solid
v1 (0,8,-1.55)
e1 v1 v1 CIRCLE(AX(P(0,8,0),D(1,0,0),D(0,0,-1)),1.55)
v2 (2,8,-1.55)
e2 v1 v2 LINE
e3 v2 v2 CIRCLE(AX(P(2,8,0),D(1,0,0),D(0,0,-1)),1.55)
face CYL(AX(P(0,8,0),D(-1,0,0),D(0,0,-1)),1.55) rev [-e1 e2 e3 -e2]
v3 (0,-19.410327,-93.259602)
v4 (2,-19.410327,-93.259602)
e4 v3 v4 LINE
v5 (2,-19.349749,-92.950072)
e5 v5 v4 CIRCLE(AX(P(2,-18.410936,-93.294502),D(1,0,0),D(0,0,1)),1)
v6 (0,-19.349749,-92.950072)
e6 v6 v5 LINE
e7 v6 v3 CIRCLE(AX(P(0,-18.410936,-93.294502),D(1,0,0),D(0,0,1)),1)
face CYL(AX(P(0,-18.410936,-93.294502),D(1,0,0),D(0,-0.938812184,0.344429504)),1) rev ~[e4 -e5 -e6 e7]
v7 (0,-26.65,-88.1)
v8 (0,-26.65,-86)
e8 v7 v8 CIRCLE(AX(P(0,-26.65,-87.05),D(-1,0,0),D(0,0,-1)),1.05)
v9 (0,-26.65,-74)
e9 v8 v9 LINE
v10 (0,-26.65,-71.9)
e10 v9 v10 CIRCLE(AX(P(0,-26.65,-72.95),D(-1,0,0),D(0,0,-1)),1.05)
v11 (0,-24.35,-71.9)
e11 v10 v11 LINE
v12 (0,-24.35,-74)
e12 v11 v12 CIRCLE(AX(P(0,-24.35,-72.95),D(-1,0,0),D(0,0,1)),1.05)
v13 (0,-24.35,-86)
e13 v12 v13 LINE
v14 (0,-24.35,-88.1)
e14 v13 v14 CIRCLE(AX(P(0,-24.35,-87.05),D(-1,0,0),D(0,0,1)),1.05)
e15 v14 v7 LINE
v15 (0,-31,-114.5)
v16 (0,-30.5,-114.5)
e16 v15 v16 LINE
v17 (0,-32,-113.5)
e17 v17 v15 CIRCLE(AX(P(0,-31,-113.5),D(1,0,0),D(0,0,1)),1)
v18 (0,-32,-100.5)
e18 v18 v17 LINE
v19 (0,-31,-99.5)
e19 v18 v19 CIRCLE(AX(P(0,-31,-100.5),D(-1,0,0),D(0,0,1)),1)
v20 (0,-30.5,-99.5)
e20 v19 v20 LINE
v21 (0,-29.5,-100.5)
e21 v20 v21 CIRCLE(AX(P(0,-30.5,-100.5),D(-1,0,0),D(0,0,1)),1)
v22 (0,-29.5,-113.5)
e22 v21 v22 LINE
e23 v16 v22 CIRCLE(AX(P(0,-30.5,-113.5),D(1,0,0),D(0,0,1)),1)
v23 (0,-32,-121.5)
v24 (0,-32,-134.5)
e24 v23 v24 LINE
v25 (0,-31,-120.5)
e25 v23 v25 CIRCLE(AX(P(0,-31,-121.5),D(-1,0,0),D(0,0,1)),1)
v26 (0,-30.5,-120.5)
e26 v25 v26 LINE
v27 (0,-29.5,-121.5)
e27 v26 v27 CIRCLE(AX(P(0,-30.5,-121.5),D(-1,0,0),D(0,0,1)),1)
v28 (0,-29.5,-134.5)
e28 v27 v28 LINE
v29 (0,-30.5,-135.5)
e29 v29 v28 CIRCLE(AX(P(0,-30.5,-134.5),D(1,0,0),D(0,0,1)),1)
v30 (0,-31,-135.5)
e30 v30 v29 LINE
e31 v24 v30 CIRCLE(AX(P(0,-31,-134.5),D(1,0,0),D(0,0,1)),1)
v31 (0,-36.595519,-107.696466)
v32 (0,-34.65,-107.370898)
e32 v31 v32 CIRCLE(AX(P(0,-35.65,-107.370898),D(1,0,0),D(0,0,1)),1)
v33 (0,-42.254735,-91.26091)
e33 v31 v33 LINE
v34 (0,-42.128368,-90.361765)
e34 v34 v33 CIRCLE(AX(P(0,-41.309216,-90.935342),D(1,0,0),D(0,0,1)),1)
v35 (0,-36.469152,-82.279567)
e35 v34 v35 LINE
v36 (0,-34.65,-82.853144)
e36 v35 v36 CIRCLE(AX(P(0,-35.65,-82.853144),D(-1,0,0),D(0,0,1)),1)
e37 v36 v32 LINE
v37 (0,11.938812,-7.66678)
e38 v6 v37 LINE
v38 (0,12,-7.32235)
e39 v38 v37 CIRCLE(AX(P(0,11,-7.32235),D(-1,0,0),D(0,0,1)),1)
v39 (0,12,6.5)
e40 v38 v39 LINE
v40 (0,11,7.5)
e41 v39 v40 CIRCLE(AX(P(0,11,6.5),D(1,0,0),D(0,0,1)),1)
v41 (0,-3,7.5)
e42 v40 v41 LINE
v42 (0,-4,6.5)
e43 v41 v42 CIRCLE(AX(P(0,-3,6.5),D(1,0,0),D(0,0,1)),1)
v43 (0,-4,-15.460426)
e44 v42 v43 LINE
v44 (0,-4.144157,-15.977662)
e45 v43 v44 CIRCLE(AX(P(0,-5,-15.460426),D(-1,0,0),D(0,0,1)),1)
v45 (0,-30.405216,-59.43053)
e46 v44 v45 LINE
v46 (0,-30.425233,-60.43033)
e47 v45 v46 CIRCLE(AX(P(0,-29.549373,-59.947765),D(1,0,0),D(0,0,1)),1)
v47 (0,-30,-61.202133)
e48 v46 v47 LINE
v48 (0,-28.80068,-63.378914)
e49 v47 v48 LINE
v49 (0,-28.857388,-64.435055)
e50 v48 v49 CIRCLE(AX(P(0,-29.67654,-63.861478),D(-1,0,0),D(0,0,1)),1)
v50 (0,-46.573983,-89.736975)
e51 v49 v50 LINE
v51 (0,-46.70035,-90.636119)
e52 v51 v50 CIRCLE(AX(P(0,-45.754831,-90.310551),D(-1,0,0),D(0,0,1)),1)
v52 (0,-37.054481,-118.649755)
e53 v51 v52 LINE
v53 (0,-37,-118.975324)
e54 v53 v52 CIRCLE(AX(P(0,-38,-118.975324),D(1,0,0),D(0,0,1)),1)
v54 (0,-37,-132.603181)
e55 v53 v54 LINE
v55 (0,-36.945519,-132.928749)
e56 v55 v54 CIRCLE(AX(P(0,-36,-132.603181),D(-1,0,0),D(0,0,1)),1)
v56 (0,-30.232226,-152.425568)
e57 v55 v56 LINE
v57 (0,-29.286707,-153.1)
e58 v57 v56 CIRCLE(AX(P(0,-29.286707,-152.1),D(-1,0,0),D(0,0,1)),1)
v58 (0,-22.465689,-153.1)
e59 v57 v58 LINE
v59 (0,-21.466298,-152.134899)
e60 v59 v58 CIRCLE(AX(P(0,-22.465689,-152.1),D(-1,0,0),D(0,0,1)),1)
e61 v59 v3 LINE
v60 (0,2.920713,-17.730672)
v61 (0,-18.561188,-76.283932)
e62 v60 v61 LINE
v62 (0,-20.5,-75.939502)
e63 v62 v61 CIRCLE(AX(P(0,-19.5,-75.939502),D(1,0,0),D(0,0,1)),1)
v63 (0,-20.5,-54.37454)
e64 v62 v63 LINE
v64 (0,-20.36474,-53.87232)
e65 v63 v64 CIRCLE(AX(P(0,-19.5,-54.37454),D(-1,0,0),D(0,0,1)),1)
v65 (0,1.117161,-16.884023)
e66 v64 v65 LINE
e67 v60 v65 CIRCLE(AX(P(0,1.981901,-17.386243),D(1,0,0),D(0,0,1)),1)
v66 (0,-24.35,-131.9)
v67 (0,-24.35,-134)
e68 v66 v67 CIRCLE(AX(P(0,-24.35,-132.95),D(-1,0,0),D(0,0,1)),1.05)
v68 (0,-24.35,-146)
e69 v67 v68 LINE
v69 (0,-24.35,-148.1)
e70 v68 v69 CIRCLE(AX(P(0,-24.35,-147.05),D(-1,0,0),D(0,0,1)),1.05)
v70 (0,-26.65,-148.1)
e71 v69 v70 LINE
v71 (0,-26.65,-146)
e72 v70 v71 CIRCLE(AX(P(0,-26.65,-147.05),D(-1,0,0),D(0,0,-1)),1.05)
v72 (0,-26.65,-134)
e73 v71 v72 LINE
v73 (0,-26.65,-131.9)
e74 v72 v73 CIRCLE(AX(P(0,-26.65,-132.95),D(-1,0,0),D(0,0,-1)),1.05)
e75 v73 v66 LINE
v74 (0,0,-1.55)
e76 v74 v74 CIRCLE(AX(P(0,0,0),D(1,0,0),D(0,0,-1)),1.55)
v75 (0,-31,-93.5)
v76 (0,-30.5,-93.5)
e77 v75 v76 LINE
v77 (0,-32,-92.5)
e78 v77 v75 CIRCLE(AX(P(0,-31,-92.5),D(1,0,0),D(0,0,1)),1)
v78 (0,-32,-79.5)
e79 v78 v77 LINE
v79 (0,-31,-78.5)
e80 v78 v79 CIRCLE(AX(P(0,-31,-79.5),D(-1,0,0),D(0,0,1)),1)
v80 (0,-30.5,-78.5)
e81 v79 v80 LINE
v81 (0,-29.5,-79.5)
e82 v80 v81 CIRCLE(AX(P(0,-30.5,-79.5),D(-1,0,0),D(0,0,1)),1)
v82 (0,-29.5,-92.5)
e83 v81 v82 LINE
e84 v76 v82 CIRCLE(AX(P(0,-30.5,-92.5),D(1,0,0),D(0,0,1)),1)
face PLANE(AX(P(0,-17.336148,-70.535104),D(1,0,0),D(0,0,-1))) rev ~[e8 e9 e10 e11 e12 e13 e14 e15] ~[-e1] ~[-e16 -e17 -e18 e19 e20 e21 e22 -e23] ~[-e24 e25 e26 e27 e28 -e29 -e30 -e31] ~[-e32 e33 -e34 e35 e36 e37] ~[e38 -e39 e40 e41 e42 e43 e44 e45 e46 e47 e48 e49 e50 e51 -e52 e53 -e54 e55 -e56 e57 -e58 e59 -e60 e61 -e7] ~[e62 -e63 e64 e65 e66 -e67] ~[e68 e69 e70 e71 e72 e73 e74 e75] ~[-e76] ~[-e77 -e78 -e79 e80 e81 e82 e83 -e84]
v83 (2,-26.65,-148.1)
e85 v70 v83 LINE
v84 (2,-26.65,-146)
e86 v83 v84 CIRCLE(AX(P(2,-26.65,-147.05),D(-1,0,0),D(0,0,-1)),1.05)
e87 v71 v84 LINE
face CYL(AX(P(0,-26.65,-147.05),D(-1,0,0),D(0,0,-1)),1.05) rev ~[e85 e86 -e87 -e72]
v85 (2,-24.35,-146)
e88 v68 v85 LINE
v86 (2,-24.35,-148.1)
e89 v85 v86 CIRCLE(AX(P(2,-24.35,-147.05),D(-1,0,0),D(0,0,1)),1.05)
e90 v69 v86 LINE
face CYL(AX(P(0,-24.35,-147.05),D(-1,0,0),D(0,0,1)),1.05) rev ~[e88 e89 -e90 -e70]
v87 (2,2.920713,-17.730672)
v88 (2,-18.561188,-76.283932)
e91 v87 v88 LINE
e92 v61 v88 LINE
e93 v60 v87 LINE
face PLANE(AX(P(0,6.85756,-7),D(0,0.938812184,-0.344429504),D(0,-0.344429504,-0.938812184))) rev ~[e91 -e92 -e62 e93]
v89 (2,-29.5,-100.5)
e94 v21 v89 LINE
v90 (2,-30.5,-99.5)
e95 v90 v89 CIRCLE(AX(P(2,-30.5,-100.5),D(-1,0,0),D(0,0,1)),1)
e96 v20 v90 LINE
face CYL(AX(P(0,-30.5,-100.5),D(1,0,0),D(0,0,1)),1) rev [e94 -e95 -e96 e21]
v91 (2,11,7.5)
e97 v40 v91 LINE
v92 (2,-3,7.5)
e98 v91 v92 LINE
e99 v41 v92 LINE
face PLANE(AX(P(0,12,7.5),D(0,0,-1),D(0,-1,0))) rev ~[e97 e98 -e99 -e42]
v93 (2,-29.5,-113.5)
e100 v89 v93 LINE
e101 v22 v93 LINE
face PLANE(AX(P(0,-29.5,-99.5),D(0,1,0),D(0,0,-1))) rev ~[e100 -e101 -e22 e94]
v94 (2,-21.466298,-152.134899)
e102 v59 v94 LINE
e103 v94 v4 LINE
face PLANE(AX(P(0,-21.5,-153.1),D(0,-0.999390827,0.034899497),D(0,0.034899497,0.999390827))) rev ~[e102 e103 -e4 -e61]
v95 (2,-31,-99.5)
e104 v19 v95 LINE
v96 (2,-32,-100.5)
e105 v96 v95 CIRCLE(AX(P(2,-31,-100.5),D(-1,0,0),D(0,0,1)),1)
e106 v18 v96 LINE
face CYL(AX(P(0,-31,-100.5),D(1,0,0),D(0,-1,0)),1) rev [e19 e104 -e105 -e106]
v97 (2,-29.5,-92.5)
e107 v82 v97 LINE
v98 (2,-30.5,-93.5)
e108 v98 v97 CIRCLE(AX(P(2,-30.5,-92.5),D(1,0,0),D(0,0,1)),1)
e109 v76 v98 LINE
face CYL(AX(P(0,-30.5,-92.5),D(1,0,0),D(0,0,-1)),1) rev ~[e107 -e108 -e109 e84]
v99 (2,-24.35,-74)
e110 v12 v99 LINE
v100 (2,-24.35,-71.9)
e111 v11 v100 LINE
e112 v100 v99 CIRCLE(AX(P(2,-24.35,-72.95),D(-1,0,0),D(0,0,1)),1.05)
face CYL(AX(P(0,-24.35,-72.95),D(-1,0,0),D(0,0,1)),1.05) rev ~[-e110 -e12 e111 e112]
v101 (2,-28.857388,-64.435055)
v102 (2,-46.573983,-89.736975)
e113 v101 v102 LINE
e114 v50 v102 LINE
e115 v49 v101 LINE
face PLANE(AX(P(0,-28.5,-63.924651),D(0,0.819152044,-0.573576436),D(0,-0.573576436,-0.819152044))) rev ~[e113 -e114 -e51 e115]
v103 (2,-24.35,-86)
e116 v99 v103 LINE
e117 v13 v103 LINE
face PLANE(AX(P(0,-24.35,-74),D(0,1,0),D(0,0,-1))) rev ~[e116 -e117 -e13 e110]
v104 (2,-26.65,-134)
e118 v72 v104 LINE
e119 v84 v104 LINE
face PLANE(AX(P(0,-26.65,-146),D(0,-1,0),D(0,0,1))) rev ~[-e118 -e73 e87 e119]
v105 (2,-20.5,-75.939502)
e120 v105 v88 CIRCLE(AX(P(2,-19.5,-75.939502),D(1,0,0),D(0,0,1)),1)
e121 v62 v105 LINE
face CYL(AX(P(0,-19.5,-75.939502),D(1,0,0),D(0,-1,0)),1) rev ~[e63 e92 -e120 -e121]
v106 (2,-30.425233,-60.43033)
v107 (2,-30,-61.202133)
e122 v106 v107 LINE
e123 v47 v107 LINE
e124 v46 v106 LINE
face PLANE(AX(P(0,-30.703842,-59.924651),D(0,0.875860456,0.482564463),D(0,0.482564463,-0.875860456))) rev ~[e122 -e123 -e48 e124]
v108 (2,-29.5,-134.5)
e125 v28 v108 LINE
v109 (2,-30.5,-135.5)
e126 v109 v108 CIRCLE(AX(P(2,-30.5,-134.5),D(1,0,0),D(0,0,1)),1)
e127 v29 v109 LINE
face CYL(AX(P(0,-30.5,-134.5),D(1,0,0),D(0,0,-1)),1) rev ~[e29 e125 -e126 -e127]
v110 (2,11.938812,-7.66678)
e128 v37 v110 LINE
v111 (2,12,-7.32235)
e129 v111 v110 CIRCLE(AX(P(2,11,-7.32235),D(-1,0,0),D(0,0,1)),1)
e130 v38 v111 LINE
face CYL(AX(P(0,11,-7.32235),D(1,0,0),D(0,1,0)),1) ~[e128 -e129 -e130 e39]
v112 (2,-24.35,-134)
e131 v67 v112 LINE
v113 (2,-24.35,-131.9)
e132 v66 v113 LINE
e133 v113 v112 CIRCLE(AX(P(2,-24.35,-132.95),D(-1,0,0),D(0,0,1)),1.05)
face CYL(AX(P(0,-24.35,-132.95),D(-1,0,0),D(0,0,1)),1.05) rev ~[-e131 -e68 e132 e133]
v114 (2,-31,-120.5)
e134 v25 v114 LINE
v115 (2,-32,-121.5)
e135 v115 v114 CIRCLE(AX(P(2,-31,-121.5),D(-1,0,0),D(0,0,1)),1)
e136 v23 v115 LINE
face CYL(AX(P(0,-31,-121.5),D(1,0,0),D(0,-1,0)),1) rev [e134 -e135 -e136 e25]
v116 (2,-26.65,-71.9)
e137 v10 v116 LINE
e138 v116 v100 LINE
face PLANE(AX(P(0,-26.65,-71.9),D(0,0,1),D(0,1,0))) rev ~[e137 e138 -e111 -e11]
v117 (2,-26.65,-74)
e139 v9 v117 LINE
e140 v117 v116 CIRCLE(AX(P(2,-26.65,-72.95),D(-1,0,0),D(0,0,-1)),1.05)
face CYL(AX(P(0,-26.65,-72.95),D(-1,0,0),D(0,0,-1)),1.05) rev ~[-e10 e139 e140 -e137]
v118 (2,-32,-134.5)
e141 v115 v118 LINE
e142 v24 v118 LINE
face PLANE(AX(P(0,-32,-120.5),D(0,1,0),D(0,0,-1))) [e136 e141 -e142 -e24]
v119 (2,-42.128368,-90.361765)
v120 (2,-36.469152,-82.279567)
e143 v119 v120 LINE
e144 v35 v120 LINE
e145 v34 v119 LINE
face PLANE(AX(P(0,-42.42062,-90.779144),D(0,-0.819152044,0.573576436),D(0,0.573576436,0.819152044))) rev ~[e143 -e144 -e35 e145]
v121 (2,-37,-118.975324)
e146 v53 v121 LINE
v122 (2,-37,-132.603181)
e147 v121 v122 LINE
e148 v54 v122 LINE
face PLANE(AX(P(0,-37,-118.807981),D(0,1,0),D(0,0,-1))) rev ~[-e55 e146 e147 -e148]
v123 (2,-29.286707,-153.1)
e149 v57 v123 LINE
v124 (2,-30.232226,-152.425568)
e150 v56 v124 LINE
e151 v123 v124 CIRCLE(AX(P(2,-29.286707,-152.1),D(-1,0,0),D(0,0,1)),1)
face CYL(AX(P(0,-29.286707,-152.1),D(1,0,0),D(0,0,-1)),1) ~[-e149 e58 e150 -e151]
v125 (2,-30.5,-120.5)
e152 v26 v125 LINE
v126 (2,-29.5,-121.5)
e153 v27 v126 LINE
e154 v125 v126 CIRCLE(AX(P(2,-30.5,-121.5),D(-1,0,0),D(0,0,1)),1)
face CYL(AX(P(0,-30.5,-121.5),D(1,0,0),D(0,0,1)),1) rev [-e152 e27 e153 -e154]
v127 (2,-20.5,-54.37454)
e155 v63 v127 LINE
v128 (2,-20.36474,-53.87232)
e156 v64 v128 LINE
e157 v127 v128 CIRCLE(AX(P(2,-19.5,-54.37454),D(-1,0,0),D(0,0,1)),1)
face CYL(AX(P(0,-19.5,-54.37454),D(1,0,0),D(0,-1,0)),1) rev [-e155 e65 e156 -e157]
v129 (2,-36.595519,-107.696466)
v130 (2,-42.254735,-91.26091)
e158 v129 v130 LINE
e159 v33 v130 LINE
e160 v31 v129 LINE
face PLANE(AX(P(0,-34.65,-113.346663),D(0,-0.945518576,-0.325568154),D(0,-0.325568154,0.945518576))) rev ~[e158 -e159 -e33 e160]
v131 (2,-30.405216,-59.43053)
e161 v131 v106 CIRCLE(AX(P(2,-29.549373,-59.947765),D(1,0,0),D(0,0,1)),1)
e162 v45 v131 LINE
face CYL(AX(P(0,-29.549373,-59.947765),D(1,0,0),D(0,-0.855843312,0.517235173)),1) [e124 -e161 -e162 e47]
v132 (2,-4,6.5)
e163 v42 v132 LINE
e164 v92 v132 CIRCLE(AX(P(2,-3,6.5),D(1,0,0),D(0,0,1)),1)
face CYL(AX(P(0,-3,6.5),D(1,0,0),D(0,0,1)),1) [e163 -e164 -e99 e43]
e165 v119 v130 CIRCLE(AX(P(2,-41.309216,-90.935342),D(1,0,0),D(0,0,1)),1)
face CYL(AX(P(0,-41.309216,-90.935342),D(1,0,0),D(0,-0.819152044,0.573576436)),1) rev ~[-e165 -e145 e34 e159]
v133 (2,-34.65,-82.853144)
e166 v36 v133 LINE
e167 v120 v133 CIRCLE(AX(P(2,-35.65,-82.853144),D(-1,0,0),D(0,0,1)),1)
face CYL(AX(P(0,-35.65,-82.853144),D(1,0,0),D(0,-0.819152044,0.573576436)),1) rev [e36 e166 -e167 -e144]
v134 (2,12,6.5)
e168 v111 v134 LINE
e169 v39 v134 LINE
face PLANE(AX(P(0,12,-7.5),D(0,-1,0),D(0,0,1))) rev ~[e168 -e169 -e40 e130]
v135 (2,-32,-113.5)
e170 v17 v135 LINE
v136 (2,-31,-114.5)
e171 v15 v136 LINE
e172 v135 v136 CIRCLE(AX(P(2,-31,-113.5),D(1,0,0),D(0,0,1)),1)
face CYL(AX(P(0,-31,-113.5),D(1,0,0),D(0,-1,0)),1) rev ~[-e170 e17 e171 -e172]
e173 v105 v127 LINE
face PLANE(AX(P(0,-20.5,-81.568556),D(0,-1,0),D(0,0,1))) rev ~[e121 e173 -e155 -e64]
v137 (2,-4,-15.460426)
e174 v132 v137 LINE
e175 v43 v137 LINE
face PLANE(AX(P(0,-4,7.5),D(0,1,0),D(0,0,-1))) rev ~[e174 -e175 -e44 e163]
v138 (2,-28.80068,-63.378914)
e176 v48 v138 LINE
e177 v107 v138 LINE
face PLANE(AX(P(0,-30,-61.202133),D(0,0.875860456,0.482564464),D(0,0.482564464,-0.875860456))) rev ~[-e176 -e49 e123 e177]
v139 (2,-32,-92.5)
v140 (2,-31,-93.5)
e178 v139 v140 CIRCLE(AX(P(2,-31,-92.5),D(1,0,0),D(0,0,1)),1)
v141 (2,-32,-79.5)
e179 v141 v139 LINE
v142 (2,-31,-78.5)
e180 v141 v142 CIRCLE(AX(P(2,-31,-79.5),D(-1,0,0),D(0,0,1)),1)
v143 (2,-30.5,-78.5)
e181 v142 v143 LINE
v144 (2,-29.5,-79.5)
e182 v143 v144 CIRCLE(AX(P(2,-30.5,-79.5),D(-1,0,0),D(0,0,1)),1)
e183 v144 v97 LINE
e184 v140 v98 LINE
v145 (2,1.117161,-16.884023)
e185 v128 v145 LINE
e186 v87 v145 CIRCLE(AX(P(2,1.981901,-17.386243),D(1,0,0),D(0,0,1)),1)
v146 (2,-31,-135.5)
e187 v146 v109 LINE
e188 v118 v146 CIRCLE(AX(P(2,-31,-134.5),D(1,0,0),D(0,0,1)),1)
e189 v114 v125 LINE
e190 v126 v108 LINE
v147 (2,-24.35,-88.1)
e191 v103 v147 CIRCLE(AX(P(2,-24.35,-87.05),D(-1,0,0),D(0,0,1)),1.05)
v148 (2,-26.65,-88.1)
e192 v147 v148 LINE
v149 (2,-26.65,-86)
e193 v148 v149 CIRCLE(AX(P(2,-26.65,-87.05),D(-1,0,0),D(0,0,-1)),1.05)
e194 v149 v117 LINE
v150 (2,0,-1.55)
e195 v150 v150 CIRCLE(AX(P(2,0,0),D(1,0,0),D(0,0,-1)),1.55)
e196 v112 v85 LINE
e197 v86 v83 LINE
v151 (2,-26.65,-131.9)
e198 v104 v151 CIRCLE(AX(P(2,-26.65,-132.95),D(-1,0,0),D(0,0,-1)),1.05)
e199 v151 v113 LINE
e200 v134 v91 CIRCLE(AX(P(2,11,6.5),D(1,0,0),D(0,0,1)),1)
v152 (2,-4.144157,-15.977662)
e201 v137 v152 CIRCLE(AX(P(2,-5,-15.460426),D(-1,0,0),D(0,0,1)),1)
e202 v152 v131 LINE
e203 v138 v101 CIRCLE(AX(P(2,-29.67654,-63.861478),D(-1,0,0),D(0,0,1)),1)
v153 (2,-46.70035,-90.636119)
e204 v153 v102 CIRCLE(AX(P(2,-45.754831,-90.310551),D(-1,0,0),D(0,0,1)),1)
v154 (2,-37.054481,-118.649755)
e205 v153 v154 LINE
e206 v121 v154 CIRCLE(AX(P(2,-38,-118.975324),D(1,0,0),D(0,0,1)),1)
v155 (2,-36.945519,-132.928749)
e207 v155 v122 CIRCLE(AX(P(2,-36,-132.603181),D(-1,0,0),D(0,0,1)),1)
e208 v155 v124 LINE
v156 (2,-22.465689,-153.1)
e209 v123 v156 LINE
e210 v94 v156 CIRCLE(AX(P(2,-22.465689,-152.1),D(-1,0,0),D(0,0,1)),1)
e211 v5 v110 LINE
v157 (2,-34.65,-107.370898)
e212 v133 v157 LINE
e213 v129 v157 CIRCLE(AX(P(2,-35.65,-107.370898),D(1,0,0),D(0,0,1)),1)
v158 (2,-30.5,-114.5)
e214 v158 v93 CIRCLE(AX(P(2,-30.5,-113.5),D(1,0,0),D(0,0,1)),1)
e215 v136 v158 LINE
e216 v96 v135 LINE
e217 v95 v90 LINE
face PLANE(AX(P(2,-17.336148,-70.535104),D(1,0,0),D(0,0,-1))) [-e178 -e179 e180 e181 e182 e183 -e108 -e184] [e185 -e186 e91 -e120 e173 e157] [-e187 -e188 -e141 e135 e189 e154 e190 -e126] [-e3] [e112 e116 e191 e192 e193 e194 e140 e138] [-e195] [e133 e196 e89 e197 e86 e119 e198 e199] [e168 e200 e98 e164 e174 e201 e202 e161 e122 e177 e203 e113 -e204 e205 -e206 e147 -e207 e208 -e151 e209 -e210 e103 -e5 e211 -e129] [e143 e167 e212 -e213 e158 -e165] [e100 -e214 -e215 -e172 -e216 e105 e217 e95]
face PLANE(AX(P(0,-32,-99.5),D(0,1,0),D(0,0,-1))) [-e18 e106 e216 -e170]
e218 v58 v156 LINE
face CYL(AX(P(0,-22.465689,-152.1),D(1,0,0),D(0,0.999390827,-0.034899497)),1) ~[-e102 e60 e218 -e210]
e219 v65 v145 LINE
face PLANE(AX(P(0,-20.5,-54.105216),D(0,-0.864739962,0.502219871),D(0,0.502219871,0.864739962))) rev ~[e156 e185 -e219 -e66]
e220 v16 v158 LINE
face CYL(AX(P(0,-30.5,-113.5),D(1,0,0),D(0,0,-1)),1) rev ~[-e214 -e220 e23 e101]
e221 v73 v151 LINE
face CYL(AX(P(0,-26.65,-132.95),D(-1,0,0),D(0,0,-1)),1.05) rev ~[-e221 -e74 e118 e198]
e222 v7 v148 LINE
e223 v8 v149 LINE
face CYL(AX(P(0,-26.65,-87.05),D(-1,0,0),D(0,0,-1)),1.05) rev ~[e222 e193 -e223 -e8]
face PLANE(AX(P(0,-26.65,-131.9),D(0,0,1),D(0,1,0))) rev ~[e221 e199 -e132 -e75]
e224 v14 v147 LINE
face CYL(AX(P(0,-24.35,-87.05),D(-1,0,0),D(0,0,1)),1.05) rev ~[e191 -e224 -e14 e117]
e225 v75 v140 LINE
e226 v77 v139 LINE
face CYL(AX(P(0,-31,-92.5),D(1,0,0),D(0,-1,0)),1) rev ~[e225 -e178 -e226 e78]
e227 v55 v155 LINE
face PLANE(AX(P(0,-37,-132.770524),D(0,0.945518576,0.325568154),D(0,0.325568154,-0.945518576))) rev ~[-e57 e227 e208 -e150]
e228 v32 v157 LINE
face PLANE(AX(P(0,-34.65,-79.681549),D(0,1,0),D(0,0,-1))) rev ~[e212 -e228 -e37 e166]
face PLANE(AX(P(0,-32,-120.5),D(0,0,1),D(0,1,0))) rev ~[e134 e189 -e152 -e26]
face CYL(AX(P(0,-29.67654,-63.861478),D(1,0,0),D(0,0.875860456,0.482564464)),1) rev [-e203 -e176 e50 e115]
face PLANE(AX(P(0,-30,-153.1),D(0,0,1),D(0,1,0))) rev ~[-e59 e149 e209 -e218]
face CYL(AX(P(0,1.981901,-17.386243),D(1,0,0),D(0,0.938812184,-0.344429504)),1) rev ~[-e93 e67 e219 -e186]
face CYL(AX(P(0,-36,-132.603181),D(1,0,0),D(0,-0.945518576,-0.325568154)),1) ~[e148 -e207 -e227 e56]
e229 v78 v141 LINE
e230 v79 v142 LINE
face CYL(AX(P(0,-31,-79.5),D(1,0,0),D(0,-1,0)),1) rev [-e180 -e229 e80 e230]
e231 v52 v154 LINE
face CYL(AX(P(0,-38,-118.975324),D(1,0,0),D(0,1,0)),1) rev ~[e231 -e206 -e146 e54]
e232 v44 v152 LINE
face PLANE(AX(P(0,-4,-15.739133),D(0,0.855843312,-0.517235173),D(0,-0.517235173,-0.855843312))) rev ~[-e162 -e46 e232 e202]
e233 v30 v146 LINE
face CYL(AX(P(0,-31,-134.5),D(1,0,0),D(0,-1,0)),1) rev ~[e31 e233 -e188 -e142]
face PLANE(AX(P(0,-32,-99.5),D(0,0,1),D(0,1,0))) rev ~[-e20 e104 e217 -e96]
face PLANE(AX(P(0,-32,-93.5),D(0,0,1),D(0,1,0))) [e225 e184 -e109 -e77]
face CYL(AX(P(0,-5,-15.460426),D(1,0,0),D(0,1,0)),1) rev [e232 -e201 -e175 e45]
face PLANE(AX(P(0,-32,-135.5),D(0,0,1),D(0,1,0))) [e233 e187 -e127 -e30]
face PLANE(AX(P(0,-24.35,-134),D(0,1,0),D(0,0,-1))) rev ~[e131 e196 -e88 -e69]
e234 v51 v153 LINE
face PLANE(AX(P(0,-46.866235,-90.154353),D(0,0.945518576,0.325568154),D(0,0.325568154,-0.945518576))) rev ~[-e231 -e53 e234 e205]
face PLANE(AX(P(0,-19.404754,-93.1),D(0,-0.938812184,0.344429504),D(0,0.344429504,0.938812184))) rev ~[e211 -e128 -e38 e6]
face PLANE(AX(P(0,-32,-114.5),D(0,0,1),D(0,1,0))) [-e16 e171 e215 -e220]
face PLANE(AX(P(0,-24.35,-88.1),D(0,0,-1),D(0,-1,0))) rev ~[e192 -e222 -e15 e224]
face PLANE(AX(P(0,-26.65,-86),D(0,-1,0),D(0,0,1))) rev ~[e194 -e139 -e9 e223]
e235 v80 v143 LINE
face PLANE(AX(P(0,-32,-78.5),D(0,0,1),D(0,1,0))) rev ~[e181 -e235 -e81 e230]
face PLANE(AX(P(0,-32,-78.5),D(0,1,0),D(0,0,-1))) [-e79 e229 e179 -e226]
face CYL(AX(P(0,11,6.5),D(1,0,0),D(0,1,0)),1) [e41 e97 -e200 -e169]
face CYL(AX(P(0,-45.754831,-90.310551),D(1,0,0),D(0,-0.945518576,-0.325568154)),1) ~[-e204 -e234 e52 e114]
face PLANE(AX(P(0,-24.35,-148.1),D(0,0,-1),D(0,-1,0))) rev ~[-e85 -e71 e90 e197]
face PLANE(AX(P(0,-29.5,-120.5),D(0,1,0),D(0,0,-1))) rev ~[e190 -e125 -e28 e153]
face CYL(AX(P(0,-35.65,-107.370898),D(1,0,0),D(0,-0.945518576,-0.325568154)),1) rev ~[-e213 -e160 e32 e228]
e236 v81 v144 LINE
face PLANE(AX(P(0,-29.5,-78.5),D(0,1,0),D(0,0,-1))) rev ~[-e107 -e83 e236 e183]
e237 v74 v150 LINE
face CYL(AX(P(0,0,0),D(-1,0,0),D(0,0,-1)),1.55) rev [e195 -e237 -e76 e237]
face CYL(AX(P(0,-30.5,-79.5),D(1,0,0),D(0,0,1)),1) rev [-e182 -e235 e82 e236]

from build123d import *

# Parameters (mm, degrees)
SKETCH_1_W      = 15
SKETCH_1_H      = 2.5
SKETCH_1_R      = 1.55
EXTRUDE_1_DEPTH = 2
FILLET_1_R      = 1


with BuildPart() as part:
    # 草图1 → 凸台-拉伸1 (new body)
    with BuildSketch(Plane(origin=(0, 0, 0), x_dir=(0, 0, -1), z_dir=(1, 0, 0))):
        Polygon((7.5, 12), (-7.5, 12), (-7.5, -4), (15.739132695, -4), (59.924651317, -30.703841765), (61.202132807, -30), (63.924651317, -28.5), (90.154353452, -46.86623516), (118.807980924, -37), (132.770523856, -37), (153.1, -30), (153.1, -21.5), (93.1, -19.40475383), align=None)
        with Locations((128, -30.75)):
            Rectangle(SKETCH_1_W, SKETCH_1_H, mode=Mode.SUBTRACT)
        with Locations((107, -30.75)):
            Rectangle(SKETCH_1_W, SKETCH_1_H, mode=Mode.SUBTRACT)
        with Locations((86, -30.75)):
            Rectangle(SKETCH_1_W, SKETCH_1_H, mode=Mode.SUBTRACT)
        with BuildLine():
            Line((86, -26.65), (74, -26.65))
            ThreePointArc((74, -26.65), (72.95, -27.7), (71.9, -26.65))
            Line((71.9, -26.65), (71.9, -24.35))
            ThreePointArc((71.9, -24.35), (72.95, -23.3), (74, -24.35))
            Line((74, -24.35), (86, -24.35))
            ThreePointArc((86, -24.35), (87.05, -23.3), (88.1, -24.35))
            Line((88.1, -24.35), (88.1, -26.65))
            ThreePointArc((88.1, -26.65), (87.05, -27.7), (86, -26.65))
        make_face(mode=Mode.SUBTRACT)
        with BuildLine():
            Line((146, -26.65), (134, -26.65))
            ThreePointArc((134, -26.65), (132.95, -27.7), (131.9, -26.65))
            Line((131.9, -26.65), (131.9, -24.35))
            ThreePointArc((131.9, -24.35), (132.95, -23.3), (134, -24.35))
            Line((134, -24.35), (146, -24.35))
            ThreePointArc((146, -24.35), (147.05, -23.3), (148.1, -24.35))
            Line((148.1, -24.35), (148.1, -26.65))
            ThreePointArc((148.1, -26.65), (147.05, -27.7), (146, -26.65))
        make_face(mode=Mode.SUBTRACT)
        Polygon((54.105215944, -20.5), (7, 6.857560085), (81.568555955, -20.5), align=None, mode=Mode.SUBTRACT)
        Circle(SKETCH_1_R, mode=Mode.SUBTRACT)
        with Locations((0, 8)):
            Circle(SKETCH_1_R, mode=Mode.SUBTRACT)
        Polygon((79.681548741, -34.65), (113.34666254, -34.65), (90.779143943, -42.420619816), align=None, mode=Mode.SUBTRACT)
    extrude(amount=EXTRUDE_1_DEPTH)

    # 圆角1
    fillet_1_edges = [part.edges().sort_by_distance(p)[0] for p in [
        (1, -32, -135.5),
        (1, -29.5, -135.5),
        (1, -29.5, -120.5),
        (1, -32, -120.5),
        (1, -32, -114.5),
        (1, -29.5, -114.5),
        (1, -29.5, -99.5),
        (1, -32, -99.5),
        (1, -32, -93.5),
        (1, -29.5, -93.5),
        (1, -29.5, -78.5),
        (1, -32, -78.5),
        (1, -34.65, -113.34666254),
        (1, -34.65, -79.681548741),
        (1, -42.420619816, -90.779143943),
        (1, 6.857560085, -7),
        (1, -20.5, -54.105215944),
        (1, -20.5, -81.568555955),
        (1, -46.86623516, -90.154353452),
        (1, -28.5, -63.924651317),
        (1, -30.703841765, -59.924651317),
        (1, -4, -15.739132695),
        (1, -4, 7.5),
        (1, 12, 7.5),
        (1, 12, -7.5),
        (1, -19.40475383, -93.1),
        (1, -21.5, -153.1),
        (1, -30, -153.1),
        (1, -37, -132.770523856),
        (1, -37, -118.807980924),
    ]]
    fillet(fillet_1_edges, radius=FILLET_1_R)


solid = part.part
